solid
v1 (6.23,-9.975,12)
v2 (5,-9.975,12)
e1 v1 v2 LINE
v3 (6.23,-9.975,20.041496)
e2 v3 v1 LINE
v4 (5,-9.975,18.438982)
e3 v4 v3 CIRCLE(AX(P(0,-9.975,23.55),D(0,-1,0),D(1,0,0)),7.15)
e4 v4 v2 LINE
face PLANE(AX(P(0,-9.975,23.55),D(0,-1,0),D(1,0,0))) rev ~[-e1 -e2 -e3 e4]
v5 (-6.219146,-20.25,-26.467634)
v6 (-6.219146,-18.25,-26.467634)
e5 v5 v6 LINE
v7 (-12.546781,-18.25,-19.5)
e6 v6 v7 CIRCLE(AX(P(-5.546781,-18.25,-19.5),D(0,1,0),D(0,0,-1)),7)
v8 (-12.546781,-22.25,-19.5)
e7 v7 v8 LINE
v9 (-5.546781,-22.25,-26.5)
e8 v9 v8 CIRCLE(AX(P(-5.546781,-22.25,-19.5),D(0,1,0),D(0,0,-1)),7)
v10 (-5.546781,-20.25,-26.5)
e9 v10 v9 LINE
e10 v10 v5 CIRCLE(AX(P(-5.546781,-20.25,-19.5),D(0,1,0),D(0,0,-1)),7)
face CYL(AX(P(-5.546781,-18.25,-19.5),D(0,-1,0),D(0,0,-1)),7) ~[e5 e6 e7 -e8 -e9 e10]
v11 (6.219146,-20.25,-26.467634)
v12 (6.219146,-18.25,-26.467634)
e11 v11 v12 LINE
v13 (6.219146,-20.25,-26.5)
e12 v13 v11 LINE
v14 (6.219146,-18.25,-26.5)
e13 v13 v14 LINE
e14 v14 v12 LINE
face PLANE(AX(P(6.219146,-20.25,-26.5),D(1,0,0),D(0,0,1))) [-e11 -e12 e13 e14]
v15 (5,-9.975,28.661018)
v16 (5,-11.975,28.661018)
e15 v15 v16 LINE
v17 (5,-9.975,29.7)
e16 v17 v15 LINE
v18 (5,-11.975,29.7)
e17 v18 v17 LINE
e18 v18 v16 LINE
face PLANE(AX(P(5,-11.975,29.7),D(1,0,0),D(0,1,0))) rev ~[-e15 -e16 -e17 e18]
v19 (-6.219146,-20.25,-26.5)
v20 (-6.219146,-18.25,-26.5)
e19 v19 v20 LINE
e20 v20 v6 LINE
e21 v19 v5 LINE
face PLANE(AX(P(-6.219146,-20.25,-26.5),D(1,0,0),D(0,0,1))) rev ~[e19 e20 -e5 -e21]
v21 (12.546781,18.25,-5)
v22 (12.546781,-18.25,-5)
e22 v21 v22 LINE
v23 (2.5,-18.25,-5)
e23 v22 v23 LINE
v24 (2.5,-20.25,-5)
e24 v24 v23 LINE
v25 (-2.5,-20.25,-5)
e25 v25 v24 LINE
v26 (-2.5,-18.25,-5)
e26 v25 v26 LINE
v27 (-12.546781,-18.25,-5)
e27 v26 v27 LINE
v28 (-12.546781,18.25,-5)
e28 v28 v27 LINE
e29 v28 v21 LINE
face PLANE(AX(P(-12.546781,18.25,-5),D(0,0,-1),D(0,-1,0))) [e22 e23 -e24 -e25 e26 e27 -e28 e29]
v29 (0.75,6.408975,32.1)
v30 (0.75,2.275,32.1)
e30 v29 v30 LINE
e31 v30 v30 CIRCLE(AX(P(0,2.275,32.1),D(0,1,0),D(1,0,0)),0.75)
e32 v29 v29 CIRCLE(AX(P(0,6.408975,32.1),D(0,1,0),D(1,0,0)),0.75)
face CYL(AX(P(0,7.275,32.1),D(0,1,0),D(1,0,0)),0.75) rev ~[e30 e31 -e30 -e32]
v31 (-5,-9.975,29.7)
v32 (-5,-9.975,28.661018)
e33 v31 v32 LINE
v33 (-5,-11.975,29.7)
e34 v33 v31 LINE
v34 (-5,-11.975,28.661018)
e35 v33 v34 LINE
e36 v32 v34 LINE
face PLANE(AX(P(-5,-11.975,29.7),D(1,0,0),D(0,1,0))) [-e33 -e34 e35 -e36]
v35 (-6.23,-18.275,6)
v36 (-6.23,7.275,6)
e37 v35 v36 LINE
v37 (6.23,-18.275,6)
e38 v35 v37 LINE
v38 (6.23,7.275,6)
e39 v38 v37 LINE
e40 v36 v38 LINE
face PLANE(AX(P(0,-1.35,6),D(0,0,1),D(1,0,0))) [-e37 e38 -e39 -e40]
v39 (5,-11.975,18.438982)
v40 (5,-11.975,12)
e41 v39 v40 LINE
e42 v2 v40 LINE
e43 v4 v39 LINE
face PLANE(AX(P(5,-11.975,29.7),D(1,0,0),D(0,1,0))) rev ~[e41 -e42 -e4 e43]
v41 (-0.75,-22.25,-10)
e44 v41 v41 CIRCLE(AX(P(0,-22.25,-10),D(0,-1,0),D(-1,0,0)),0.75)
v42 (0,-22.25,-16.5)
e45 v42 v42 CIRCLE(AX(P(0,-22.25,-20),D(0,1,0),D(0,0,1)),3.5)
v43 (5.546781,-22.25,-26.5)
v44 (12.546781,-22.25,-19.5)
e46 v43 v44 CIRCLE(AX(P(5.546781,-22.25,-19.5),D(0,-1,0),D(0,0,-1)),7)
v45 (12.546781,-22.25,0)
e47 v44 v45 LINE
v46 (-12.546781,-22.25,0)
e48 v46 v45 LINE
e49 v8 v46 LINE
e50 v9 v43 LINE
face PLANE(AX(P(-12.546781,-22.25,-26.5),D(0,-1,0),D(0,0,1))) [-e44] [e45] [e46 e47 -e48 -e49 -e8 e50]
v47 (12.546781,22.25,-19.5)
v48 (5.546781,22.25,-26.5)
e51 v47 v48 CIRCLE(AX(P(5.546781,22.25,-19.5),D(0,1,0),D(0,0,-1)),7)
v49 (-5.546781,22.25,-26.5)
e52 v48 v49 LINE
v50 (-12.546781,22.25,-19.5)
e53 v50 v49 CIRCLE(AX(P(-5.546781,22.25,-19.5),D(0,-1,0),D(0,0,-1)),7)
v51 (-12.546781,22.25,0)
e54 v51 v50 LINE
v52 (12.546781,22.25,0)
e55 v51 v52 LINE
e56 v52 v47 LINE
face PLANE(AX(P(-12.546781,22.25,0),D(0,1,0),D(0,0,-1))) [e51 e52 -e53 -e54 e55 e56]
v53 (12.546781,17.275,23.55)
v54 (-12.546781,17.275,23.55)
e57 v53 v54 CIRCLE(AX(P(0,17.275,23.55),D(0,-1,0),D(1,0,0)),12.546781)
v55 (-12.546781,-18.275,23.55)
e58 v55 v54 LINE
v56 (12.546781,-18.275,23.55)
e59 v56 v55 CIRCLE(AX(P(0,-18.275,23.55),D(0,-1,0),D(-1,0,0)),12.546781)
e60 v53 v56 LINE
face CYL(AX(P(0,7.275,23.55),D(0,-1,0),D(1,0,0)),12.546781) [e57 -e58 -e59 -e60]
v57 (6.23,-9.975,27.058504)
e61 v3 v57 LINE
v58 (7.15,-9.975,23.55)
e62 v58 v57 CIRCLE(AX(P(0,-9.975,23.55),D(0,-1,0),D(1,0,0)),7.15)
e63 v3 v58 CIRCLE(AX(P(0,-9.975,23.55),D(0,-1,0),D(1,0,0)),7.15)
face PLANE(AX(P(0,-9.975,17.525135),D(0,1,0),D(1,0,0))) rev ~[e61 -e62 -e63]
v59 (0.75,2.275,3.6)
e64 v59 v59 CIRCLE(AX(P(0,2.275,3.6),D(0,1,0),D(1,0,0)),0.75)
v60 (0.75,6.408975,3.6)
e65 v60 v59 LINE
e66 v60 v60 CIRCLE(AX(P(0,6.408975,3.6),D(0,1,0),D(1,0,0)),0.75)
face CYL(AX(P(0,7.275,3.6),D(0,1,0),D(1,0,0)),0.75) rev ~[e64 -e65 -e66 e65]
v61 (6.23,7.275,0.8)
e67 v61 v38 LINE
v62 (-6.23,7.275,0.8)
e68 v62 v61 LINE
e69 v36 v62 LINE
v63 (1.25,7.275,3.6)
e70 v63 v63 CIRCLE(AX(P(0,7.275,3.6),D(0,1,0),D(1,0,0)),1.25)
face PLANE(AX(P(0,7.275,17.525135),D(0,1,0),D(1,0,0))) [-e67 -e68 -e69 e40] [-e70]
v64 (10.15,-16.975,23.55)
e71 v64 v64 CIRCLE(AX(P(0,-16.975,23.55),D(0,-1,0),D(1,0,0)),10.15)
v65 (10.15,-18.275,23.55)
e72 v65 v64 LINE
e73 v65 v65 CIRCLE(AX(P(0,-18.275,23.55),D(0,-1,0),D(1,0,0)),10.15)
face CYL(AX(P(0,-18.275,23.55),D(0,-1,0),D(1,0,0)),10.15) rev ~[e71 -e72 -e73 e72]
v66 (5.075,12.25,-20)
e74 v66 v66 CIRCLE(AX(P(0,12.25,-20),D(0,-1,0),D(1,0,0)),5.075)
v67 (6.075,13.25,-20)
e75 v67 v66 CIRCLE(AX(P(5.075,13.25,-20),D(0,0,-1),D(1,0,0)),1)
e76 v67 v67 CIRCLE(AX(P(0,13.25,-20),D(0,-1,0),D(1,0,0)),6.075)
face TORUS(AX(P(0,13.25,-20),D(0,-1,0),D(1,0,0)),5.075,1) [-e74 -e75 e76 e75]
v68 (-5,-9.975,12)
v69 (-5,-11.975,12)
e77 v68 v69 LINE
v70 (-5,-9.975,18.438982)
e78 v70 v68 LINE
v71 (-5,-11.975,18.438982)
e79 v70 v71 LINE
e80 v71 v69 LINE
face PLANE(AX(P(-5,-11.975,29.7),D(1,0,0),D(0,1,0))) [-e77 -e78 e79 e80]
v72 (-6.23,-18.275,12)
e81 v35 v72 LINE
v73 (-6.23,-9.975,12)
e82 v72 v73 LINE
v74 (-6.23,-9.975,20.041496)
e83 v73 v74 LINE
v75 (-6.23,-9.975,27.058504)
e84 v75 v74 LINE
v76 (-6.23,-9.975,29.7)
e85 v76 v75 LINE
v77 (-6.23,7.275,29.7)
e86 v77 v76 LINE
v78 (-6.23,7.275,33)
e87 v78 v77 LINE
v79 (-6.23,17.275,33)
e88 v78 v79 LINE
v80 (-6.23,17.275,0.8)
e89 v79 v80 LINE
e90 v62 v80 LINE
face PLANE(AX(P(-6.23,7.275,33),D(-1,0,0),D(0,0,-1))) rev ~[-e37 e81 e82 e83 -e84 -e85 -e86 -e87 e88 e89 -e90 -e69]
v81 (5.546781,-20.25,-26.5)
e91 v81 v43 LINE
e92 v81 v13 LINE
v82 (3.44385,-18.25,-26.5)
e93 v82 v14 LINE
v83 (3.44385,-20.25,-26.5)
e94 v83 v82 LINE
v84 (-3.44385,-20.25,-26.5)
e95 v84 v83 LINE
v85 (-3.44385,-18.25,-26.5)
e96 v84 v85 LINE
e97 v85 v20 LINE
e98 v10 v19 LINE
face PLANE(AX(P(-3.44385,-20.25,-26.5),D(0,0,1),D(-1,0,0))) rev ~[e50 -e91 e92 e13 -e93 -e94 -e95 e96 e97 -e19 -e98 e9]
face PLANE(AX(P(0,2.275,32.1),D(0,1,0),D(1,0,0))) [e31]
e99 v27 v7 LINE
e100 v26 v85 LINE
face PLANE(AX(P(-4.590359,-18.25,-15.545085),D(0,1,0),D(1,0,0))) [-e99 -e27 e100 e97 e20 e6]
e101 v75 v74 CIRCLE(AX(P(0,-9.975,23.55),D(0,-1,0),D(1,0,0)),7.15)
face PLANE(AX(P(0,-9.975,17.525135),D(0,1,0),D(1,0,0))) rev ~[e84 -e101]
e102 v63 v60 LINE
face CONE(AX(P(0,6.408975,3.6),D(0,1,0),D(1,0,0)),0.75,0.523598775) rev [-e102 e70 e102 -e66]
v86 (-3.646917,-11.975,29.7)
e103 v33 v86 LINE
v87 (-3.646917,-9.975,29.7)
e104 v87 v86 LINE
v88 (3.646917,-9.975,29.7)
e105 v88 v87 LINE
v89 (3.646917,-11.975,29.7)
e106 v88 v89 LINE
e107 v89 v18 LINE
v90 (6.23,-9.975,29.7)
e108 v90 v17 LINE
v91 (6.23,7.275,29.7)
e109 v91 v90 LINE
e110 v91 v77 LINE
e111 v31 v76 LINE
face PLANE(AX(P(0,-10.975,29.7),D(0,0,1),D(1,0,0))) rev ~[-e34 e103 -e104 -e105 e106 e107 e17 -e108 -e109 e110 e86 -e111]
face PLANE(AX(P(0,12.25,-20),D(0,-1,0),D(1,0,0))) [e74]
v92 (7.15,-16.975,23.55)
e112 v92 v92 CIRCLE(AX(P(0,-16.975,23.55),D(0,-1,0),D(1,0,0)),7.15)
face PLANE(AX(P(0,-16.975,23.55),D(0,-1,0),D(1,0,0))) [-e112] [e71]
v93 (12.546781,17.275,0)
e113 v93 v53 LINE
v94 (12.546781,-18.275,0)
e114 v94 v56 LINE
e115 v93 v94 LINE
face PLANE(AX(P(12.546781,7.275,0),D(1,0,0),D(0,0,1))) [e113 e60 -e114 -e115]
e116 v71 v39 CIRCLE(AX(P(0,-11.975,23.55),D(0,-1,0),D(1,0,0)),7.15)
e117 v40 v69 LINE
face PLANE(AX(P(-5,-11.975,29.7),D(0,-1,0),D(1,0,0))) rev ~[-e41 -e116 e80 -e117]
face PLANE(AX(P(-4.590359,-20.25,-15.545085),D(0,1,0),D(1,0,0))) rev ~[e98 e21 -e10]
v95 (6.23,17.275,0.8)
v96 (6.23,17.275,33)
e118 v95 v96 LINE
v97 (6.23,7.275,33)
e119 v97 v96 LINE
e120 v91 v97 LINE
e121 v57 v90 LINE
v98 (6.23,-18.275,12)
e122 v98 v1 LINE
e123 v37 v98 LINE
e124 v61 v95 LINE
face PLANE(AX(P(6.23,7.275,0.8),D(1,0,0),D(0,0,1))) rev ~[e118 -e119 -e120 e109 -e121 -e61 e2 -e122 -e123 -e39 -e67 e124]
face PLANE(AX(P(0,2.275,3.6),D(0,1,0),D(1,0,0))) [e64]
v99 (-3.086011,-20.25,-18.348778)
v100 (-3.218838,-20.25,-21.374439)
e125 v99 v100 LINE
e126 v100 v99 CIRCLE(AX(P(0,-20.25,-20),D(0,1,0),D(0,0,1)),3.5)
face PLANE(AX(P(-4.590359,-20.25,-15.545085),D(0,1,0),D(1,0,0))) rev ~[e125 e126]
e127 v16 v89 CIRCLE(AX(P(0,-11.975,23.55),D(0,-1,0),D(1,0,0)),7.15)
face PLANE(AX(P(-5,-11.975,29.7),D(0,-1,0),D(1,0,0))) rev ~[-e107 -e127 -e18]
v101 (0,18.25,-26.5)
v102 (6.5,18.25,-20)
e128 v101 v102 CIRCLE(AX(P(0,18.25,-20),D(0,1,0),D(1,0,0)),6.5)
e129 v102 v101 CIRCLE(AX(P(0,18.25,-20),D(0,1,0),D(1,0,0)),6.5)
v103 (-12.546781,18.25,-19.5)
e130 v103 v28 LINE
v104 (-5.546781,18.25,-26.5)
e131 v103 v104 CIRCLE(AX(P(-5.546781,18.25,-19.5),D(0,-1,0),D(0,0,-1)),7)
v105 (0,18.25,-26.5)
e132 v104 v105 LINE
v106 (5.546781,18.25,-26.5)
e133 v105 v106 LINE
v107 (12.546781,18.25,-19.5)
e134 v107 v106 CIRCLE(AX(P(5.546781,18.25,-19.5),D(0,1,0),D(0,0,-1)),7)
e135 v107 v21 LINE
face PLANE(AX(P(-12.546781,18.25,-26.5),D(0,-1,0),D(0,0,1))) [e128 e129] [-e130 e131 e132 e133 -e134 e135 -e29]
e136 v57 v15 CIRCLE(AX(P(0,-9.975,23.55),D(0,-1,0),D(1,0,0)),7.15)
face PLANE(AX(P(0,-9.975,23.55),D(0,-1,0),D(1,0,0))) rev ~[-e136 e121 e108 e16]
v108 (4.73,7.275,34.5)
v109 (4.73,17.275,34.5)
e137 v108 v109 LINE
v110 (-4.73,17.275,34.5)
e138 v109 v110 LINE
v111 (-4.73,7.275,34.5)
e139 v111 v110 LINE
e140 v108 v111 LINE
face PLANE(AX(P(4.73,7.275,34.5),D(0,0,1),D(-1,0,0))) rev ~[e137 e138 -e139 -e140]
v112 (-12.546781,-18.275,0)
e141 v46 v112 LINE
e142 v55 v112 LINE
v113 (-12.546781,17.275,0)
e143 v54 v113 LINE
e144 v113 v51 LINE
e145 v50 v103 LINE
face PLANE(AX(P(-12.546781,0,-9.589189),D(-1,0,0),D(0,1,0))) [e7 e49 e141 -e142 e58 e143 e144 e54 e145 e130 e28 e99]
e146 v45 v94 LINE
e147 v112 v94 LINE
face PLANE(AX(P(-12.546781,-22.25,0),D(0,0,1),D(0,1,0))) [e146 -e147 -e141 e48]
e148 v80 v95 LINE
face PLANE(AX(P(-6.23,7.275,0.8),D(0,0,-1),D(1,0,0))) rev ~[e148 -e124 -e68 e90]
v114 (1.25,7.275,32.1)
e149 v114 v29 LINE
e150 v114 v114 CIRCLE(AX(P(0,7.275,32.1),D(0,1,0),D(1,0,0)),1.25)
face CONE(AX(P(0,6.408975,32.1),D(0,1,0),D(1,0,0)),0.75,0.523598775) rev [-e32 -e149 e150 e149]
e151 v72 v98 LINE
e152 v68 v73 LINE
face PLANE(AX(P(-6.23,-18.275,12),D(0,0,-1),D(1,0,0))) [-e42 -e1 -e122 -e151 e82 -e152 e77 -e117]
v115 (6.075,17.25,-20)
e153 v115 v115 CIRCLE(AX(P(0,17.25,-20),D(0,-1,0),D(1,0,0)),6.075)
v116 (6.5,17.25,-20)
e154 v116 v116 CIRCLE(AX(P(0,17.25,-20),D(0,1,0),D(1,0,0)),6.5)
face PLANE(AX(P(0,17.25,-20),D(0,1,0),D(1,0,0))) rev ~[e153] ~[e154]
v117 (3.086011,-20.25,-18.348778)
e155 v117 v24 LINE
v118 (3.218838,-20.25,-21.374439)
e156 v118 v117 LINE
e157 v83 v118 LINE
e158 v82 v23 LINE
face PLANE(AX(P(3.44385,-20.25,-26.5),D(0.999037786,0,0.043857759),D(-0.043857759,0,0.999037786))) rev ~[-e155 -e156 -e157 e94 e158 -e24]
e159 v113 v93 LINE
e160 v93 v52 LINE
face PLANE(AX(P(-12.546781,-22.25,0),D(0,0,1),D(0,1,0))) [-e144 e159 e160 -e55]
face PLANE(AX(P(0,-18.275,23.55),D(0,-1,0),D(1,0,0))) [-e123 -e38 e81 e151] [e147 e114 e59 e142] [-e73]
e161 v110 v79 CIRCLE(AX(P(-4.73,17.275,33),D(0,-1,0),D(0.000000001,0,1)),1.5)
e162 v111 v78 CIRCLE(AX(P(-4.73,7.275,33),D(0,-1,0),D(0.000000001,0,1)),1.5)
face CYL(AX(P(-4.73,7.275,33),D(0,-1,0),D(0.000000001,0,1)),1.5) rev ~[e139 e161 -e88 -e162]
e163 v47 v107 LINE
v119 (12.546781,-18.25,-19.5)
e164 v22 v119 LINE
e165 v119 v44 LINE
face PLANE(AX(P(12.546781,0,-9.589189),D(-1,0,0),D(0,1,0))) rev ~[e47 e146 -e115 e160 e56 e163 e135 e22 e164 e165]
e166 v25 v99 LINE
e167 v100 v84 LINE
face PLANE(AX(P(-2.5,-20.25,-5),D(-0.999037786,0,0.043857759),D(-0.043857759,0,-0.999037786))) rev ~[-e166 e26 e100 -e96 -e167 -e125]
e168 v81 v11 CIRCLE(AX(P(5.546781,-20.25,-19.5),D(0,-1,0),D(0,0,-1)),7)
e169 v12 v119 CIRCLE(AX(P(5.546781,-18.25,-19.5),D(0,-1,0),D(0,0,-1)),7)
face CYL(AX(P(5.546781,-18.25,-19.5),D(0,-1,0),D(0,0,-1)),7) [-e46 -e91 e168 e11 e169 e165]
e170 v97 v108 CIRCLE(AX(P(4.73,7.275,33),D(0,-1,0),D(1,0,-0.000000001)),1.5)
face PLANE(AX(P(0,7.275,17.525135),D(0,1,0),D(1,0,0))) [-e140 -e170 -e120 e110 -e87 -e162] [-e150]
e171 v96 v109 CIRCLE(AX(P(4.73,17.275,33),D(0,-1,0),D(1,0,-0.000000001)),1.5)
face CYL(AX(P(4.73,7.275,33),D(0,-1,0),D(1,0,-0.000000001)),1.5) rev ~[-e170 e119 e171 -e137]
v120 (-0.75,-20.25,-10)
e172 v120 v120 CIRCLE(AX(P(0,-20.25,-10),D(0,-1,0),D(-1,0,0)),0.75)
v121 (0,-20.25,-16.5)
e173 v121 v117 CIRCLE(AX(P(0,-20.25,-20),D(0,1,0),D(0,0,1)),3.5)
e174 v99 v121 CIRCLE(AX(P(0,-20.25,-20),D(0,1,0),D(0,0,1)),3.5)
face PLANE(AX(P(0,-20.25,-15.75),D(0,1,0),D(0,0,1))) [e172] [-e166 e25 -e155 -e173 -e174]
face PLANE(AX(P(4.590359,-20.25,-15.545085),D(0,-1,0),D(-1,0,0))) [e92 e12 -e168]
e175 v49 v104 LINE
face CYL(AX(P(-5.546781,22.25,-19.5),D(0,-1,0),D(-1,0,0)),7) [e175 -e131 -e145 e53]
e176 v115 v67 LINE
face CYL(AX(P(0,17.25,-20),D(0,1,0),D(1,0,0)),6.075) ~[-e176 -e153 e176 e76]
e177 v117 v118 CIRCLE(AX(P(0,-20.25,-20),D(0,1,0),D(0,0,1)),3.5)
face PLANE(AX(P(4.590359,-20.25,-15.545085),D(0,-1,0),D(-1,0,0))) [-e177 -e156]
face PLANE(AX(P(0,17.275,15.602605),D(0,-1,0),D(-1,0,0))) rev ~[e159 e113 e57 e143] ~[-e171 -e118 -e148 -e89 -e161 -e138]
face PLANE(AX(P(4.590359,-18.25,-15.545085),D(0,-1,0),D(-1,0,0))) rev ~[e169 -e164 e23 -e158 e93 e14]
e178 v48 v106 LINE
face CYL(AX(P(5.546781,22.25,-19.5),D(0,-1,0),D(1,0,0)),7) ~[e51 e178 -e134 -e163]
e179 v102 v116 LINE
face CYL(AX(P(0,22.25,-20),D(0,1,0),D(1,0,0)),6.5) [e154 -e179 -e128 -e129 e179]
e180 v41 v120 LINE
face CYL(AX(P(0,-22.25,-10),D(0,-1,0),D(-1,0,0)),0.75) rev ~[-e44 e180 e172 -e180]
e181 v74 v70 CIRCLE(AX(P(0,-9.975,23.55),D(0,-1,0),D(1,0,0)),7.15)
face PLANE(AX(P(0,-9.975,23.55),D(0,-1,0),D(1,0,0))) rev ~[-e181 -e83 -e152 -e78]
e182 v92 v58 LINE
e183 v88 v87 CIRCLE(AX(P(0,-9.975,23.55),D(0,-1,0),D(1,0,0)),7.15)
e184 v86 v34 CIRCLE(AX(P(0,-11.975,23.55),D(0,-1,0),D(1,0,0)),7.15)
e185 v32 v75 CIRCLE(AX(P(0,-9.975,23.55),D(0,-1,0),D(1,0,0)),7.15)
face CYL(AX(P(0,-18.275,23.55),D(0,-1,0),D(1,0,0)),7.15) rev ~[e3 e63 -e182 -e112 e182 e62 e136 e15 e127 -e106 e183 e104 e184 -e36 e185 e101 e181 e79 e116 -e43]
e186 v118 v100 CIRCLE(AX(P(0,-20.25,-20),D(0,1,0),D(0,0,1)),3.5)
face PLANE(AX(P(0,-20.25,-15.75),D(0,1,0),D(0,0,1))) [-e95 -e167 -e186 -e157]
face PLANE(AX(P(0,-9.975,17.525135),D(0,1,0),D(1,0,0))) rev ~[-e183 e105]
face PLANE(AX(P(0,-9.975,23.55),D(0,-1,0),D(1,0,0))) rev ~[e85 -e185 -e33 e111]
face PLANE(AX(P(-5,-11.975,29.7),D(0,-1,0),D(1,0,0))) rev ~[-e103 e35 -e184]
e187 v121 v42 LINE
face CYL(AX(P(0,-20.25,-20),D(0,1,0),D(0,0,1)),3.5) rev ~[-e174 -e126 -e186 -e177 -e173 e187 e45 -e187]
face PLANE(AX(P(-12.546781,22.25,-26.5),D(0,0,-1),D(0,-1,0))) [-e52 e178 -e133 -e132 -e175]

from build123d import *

# Parameters (mm, degrees)
SKETCH4_W                = 12.46
SKETCH4_H                = 17.25
BOSS_EXTRUDE3_DEPTH      = 6
SKETCH8_R                = 12.546781182
SKETCH8_R_2              = 11.15
BOSS_EXTRUDE6_DEPTH      = 8.3
BOSS_EXTRUDE6_DEPTH_BACK = 17.25
BOSS_EXTRUDE4_DEPTH      = 17.25
SKETCH6_R                = 0.75
CUT_EXTRUDE1_DEPTH       = 5
CHAMFER1_SIZE            = 0.5
CHAMFER1_SIZE2           = 0.866025404
SKETCH10_W               = 12.46
SKETCH10_H               = 23.7
CUT_EXTRUDE3_DEPTH       = 17.25
BOSS_EXTRUDE7_DEPTH      = 8.3
BOSS_EXTRUDE9_DEPTH      = 10
SKETCH20_R               = 11.15
SKETCH20_R_2             = 7.15
BOSS_EXTRUDE11_DEPTH     = 8.3
SKETCH21_R               = 10.15
SKETCH21_R_2             = 7.15
CUT_EXTRUDE7_DEPTH       = 1.3
SKETCH11_W               = 10
SKETCH11_H               = 2
CUT_EXTRUDE4_DEPTH       = 23.7
CUT_EXTRUDE8_REACH       = 37.55
SKETCH24_W               = 12.46
SKETCH24_H               = 6
BOSS_EXTRUDE10_DEPTH     = 25.093562
SKETCH18_W               = 21.5
SKETCH18_H               = 12.438292938
CUT_EXTRUDE5_DEPTH       = 2
SKETCH19_R               = 3.5
CUT_EXTRUDE6_DEPTH       = 43.5
CUT_EXTRUDE6_DEPTH_BACK  = 3
FILLET1_R                = 7
SKETCH22_R               = 6.5
BOSS_EXTRUDE12_DEPTH     = 5
SKETCH23_R               = 6.075
BOSS_EXTRUDE13_DEPTH     = 5
FILLET2_R                = 1
BOSS_EXTRUDE15_DEPTH     = 2
CUT_EXTRUDE9_REACH       = 46.5
SKETCH26_R               = 0.75


with BuildPart() as part:
    # Sketch4 → Boss-Extrude3 (new body)
    with BuildSketch(Plane.XY):
        with Locations((0, -1.35)):
            Rectangle(SKETCH4_W, SKETCH4_H)
    extrude(amount=BOSS_EXTRUDE3_DEPTH)



with BuildPart() as body_2:
    # Sketch8 → Boss-Extrude6 (new body, two sides)
    with BuildSketch(Plane(origin=(0, -9.975, 0), x_dir=(-1, 0, 0), z_dir=(0, -1, 0))) as boss_extrude6_sk:
        with Locations((0, -23.55)):
            Circle(SKETCH8_R)
        with Locations((0, -23.55)):
            Circle(SKETCH8_R_2, mode=Mode.SUBTRACT)
    extrude(amount=BOSS_EXTRUDE6_DEPTH)
    extrude(boss_extrude6_sk.sketch, amount=-BOSS_EXTRUDE6_DEPTH_BACK)


with BuildPart() as part_1:
    add(part.part)

    add(body_2.part)  # Boss-Extrude4 merges body 2
    # Sketch5 → Boss-Extrude4 (add)
    with BuildSketch(Plane(origin=(0, 7.275, 0), x_dir=(1, 0, 0), z_dir=(0, 1, 0))):
        with BuildLine():
            Line((12.546781182, -23.55), (12.546781182, 0))
            Line((12.546781182, 0), (6.23, 0))
            Line((6.23, 0), (6.23, -29.7))
            Line((6.23, -29.7), (-6.23, -29.7))
            Line((-6.23, -29.7), (-6.23, 0))
            Line((-6.23, 0), (-12.546781182, 0))
            Line((-12.546781182, 0), (-12.546781182, -23.55))
            ThreePointArc((-12.546781182, -23.55), (0, -36.096781182), (12.546781182, -23.55))
        make_face()
    extrude(amount=-BOSS_EXTRUDE4_DEPTH)

    # Sketch6 → Cut-Extrude1 (cut)
    with BuildSketch(Plane(origin=(0, 7.275, 0), x_dir=(1, 0, 0), z_dir=(0, 1, 0))):
        with Locations((0, -3.6)):
            Circle(SKETCH6_R)
        with Locations((0, -32.1)):
            Circle(SKETCH6_R)
    extrude(amount=-CUT_EXTRUDE1_DEPTH, mode=Mode.SUBTRACT)

    # Chamfer1
    chamfer1_edges = [part_1.edges().sort_by_distance(p)[0] for p in [
        (-0.75, 7.275, 3.6),
        (-0.75, 7.275, 32.1),
    ]]
    chamfer1_side = [part_1.faces().sort_by_distance(p)[0] for p in [
        (0, 7.275, 35.657160381),
    ]]
    chamfer(chamfer1_edges, length=CHAMFER1_SIZE, length2=CHAMFER1_SIZE2, reference=chamfer1_side[0])

    # Sketch10 → Cut-Extrude3 (cut)
    with BuildSketch(Plane(origin=(0, 7.275, 0), x_dir=(1, 0, 0), z_dir=(0, 1, 0))):
        with Locations((0, -17.85)):
            Rectangle(SKETCH10_W, SKETCH10_H)
    extrude(amount=-CUT_EXTRUDE3_DEPTH, mode=Mode.SUBTRACT)

    # Sketch13 → Boss-Extrude7 (add)
    with BuildSketch(Plane.XZ.offset(18.275)):
        with BuildLine():
            Line((-12.546781182, 23.55), (-12.546781182, 0))
            Line((-12.546781182, 0), (12.546781182, 0))
            Line((12.546781182, 0), (12.546781182, 23.55))
            ThreePointArc((12.546781182, 23.55), (0, 11.003218818), (-12.546781182, 23.55))
        make_face()
    extrude(amount=-BOSS_EXTRUDE7_DEPTH)

    # Sketch15 → Boss-Extrude9 (add)
    with BuildSketch(Plane(origin=(0, 7.275, 0), x_dir=(1, 0, 0), z_dir=(0, 1, 0))):
        with BuildLine():
            Line((-12.546781182, 0), (12.546781182, 0))
            Line((12.546781182, 0), (12.546781182, -23.55))
            ThreePointArc((12.546781182, -23.55), (0, -36.096781182), (-12.546781182, -23.55))
            Line((-12.546781182, -23.55), (-12.546781182, 0))
        make_face()
        with BuildLine():
            Line((-6.23, -0.8), (6.23, -0.8))
            Line((6.23, -0.8), (6.23, -33))
            ThreePointArc((6.23, -33), (5.790660172, -34.060660172), (4.73, -34.5))
            Line((4.73, -34.5), (-4.73, -34.5))
            ThreePointArc((-4.73, -34.5), (-5.790660172, -34.060660172), (-6.23, -33))
            Line((-6.23, -33), (-6.23, -0.8))
        make_face(mode=Mode.SUBTRACT)
    extrude(amount=BOSS_EXTRUDE9_DEPTH)

    # Sketch20 → Boss-Extrude11 (add)
    with BuildSketch(Plane.XZ.offset(18.275)):
        with Locations((0, 23.55)):
            Circle(SKETCH20_R)
        with Locations((0, 23.55)):
            Circle(SKETCH20_R_2, mode=Mode.SUBTRACT)
    extrude(amount=-BOSS_EXTRUDE11_DEPTH)

    # Sketch21 → Cut-Extrude7 (cut)
    with BuildSketch(Plane.XZ.offset(18.275)):
        with Locations((0, 23.55)):
            Circle(SKETCH21_R)
        with Locations((0, 23.55)):
            Circle(SKETCH21_R_2, mode=Mode.SUBTRACT)
    extrude(amount=-CUT_EXTRUDE7_DEPTH, mode=Mode.SUBTRACT)

    # Sketch11 → Cut-Extrude4 (cut)
    with BuildSketch(Plane.XY.offset(29.7)):
        with Locations((0, -10.975)):
            Rectangle(SKETCH11_W, SKETCH11_H)
    extrude(amount=-CUT_EXTRUDE4_DEPTH, mode=Mode.SUBTRACT)

    # Sketch24 → Cut-Extrude8 (cut, up to next)
    with BuildSketch(Plane.XZ.offset(18.275), mode=Mode.PRIVATE) as cut_extrude8_sk1:
        with Locations((0, 9)):
            Rectangle(SKETCH24_W, SKETCH24_H)
    cut_extrude8_tool1 = extrude(cut_extrude8_sk1.sketch, amount=-CUT_EXTRUDE8_REACH, mode=Mode.PRIVATE) & part_1.part
    add(cut_extrude8_tool1.solids().sort_by_distance((0, -18.275, 9))[0], mode=Mode.SUBTRACT)

    # Sketch17 → Boss-Extrude10 (add)
    with BuildSketch(Plane(origin=(-12.546781182, 4.728218818, 0), x_dir=(0, -1, 0), z_dir=(1, 0, 0))):
        Polygon((26.978218818, 26.5), (26.978218818, 0), (-17.521781182, 0), (-17.521781182, 26.5), (-13.521781182, 26.5), (-13.521781182, 5), (22.978218818, 5), (22.978218818, 26.5), align=None)
    extrude(amount=BOSS_EXTRUDE10_DEPTH)

    # Sketch18 → Cut-Extrude5 (cut)
    with BuildSketch(Plane.ZX.offset(-18.25)):
        with Locations((-15.75, 0)):
            Rectangle(SKETCH18_W, SKETCH18_H)
    extrude(amount=-CUT_EXTRUDE5_DEPTH, mode=Mode.SUBTRACT)

    # Sketch19 → Cut-Extrude6 (cut, two sides)
    with BuildSketch(Plane.ZX.offset(-20.25)) as cut_extrude6_sk:
        with Locations((-20, 0)):
            Circle(SKETCH19_R)
    extrude(amount=CUT_EXTRUDE6_DEPTH, mode=Mode.SUBTRACT)
    extrude(cut_extrude6_sk.sketch, amount=-CUT_EXTRUDE6_DEPTH_BACK, mode=Mode.SUBTRACT)

    # Fillet1
    fillet1_edges = [part_1.edges().sort_by_distance(p)[0] for p in [
        (12.546780818, -20.25, -26.5),
        (-12.546781182, -20.25, -26.5),
        (12.546780818, 20.25, -26.5),
        (-12.546781182, 20.25, -26.5),
    ]]
    fillet(fillet1_edges, radius=FILLET1_R)

    # Sketch22 → Boss-Extrude12 (add)
    with BuildSketch(Plane(origin=(0, 22.25, 0), x_dir=(1, 0, 0), z_dir=(0, 1, 0))):
        with Locations((0, 20)):
            Circle(SKETCH22_R)
    extrude(amount=-BOSS_EXTRUDE12_DEPTH)

    # Sketch23 → Boss-Extrude13 (add)
    with BuildSketch(Plane.XZ.offset(-17.25)):
        with Locations((0, -20)):
            Circle(SKETCH23_R)
    extrude(amount=BOSS_EXTRUDE13_DEPTH)

    # Fillet2
    fillet2_edges = [part_1.edges().sort_by_distance(p)[0] for p in [
        (-6.075, 12.25, -20),
    ]]
    fillet(fillet2_edges, radius=FILLET2_R)

    # Sketch25 → Boss-Extrude15 (add)
    with BuildSketch(Plane(origin=(0, -20.25, 0), x_dir=(1, 0, 0), z_dir=(0, 1, 0))):
        Polygon((-6.219146469, 5), (-2.5, 5), (-3.1585, 20), (-3.44385, 26.5), (-6.219146469, 26.5), align=None)
        Polygon((6.219146469, 5), (2.5, 5), (3.1585, 20), (3.44385, 26.5), (6.219146469, 26.5), align=None)
    extrude(amount=BOSS_EXTRUDE15_DEPTH)

    # Sketch26 → Cut-Extrude9 (cut, up to next)
    with BuildSketch(Plane(origin=(0, -22.25, 0), x_dir=(-1, 0, 0), z_dir=(0, -1, 0)), mode=Mode.PRIVATE) as cut_extrude9_sk1:
        with Locations((0, 10)):
            Circle(SKETCH26_R)
    cut_extrude9_tool1 = extrude(cut_extrude9_sk1.sketch, amount=-CUT_EXTRUDE9_REACH, mode=Mode.PRIVATE) & part_1.part
    add(cut_extrude9_tool1.solids().sort_by_distance((0, -22.25, -10))[0], mode=Mode.SUBTRACT)


solid = part_1.part
